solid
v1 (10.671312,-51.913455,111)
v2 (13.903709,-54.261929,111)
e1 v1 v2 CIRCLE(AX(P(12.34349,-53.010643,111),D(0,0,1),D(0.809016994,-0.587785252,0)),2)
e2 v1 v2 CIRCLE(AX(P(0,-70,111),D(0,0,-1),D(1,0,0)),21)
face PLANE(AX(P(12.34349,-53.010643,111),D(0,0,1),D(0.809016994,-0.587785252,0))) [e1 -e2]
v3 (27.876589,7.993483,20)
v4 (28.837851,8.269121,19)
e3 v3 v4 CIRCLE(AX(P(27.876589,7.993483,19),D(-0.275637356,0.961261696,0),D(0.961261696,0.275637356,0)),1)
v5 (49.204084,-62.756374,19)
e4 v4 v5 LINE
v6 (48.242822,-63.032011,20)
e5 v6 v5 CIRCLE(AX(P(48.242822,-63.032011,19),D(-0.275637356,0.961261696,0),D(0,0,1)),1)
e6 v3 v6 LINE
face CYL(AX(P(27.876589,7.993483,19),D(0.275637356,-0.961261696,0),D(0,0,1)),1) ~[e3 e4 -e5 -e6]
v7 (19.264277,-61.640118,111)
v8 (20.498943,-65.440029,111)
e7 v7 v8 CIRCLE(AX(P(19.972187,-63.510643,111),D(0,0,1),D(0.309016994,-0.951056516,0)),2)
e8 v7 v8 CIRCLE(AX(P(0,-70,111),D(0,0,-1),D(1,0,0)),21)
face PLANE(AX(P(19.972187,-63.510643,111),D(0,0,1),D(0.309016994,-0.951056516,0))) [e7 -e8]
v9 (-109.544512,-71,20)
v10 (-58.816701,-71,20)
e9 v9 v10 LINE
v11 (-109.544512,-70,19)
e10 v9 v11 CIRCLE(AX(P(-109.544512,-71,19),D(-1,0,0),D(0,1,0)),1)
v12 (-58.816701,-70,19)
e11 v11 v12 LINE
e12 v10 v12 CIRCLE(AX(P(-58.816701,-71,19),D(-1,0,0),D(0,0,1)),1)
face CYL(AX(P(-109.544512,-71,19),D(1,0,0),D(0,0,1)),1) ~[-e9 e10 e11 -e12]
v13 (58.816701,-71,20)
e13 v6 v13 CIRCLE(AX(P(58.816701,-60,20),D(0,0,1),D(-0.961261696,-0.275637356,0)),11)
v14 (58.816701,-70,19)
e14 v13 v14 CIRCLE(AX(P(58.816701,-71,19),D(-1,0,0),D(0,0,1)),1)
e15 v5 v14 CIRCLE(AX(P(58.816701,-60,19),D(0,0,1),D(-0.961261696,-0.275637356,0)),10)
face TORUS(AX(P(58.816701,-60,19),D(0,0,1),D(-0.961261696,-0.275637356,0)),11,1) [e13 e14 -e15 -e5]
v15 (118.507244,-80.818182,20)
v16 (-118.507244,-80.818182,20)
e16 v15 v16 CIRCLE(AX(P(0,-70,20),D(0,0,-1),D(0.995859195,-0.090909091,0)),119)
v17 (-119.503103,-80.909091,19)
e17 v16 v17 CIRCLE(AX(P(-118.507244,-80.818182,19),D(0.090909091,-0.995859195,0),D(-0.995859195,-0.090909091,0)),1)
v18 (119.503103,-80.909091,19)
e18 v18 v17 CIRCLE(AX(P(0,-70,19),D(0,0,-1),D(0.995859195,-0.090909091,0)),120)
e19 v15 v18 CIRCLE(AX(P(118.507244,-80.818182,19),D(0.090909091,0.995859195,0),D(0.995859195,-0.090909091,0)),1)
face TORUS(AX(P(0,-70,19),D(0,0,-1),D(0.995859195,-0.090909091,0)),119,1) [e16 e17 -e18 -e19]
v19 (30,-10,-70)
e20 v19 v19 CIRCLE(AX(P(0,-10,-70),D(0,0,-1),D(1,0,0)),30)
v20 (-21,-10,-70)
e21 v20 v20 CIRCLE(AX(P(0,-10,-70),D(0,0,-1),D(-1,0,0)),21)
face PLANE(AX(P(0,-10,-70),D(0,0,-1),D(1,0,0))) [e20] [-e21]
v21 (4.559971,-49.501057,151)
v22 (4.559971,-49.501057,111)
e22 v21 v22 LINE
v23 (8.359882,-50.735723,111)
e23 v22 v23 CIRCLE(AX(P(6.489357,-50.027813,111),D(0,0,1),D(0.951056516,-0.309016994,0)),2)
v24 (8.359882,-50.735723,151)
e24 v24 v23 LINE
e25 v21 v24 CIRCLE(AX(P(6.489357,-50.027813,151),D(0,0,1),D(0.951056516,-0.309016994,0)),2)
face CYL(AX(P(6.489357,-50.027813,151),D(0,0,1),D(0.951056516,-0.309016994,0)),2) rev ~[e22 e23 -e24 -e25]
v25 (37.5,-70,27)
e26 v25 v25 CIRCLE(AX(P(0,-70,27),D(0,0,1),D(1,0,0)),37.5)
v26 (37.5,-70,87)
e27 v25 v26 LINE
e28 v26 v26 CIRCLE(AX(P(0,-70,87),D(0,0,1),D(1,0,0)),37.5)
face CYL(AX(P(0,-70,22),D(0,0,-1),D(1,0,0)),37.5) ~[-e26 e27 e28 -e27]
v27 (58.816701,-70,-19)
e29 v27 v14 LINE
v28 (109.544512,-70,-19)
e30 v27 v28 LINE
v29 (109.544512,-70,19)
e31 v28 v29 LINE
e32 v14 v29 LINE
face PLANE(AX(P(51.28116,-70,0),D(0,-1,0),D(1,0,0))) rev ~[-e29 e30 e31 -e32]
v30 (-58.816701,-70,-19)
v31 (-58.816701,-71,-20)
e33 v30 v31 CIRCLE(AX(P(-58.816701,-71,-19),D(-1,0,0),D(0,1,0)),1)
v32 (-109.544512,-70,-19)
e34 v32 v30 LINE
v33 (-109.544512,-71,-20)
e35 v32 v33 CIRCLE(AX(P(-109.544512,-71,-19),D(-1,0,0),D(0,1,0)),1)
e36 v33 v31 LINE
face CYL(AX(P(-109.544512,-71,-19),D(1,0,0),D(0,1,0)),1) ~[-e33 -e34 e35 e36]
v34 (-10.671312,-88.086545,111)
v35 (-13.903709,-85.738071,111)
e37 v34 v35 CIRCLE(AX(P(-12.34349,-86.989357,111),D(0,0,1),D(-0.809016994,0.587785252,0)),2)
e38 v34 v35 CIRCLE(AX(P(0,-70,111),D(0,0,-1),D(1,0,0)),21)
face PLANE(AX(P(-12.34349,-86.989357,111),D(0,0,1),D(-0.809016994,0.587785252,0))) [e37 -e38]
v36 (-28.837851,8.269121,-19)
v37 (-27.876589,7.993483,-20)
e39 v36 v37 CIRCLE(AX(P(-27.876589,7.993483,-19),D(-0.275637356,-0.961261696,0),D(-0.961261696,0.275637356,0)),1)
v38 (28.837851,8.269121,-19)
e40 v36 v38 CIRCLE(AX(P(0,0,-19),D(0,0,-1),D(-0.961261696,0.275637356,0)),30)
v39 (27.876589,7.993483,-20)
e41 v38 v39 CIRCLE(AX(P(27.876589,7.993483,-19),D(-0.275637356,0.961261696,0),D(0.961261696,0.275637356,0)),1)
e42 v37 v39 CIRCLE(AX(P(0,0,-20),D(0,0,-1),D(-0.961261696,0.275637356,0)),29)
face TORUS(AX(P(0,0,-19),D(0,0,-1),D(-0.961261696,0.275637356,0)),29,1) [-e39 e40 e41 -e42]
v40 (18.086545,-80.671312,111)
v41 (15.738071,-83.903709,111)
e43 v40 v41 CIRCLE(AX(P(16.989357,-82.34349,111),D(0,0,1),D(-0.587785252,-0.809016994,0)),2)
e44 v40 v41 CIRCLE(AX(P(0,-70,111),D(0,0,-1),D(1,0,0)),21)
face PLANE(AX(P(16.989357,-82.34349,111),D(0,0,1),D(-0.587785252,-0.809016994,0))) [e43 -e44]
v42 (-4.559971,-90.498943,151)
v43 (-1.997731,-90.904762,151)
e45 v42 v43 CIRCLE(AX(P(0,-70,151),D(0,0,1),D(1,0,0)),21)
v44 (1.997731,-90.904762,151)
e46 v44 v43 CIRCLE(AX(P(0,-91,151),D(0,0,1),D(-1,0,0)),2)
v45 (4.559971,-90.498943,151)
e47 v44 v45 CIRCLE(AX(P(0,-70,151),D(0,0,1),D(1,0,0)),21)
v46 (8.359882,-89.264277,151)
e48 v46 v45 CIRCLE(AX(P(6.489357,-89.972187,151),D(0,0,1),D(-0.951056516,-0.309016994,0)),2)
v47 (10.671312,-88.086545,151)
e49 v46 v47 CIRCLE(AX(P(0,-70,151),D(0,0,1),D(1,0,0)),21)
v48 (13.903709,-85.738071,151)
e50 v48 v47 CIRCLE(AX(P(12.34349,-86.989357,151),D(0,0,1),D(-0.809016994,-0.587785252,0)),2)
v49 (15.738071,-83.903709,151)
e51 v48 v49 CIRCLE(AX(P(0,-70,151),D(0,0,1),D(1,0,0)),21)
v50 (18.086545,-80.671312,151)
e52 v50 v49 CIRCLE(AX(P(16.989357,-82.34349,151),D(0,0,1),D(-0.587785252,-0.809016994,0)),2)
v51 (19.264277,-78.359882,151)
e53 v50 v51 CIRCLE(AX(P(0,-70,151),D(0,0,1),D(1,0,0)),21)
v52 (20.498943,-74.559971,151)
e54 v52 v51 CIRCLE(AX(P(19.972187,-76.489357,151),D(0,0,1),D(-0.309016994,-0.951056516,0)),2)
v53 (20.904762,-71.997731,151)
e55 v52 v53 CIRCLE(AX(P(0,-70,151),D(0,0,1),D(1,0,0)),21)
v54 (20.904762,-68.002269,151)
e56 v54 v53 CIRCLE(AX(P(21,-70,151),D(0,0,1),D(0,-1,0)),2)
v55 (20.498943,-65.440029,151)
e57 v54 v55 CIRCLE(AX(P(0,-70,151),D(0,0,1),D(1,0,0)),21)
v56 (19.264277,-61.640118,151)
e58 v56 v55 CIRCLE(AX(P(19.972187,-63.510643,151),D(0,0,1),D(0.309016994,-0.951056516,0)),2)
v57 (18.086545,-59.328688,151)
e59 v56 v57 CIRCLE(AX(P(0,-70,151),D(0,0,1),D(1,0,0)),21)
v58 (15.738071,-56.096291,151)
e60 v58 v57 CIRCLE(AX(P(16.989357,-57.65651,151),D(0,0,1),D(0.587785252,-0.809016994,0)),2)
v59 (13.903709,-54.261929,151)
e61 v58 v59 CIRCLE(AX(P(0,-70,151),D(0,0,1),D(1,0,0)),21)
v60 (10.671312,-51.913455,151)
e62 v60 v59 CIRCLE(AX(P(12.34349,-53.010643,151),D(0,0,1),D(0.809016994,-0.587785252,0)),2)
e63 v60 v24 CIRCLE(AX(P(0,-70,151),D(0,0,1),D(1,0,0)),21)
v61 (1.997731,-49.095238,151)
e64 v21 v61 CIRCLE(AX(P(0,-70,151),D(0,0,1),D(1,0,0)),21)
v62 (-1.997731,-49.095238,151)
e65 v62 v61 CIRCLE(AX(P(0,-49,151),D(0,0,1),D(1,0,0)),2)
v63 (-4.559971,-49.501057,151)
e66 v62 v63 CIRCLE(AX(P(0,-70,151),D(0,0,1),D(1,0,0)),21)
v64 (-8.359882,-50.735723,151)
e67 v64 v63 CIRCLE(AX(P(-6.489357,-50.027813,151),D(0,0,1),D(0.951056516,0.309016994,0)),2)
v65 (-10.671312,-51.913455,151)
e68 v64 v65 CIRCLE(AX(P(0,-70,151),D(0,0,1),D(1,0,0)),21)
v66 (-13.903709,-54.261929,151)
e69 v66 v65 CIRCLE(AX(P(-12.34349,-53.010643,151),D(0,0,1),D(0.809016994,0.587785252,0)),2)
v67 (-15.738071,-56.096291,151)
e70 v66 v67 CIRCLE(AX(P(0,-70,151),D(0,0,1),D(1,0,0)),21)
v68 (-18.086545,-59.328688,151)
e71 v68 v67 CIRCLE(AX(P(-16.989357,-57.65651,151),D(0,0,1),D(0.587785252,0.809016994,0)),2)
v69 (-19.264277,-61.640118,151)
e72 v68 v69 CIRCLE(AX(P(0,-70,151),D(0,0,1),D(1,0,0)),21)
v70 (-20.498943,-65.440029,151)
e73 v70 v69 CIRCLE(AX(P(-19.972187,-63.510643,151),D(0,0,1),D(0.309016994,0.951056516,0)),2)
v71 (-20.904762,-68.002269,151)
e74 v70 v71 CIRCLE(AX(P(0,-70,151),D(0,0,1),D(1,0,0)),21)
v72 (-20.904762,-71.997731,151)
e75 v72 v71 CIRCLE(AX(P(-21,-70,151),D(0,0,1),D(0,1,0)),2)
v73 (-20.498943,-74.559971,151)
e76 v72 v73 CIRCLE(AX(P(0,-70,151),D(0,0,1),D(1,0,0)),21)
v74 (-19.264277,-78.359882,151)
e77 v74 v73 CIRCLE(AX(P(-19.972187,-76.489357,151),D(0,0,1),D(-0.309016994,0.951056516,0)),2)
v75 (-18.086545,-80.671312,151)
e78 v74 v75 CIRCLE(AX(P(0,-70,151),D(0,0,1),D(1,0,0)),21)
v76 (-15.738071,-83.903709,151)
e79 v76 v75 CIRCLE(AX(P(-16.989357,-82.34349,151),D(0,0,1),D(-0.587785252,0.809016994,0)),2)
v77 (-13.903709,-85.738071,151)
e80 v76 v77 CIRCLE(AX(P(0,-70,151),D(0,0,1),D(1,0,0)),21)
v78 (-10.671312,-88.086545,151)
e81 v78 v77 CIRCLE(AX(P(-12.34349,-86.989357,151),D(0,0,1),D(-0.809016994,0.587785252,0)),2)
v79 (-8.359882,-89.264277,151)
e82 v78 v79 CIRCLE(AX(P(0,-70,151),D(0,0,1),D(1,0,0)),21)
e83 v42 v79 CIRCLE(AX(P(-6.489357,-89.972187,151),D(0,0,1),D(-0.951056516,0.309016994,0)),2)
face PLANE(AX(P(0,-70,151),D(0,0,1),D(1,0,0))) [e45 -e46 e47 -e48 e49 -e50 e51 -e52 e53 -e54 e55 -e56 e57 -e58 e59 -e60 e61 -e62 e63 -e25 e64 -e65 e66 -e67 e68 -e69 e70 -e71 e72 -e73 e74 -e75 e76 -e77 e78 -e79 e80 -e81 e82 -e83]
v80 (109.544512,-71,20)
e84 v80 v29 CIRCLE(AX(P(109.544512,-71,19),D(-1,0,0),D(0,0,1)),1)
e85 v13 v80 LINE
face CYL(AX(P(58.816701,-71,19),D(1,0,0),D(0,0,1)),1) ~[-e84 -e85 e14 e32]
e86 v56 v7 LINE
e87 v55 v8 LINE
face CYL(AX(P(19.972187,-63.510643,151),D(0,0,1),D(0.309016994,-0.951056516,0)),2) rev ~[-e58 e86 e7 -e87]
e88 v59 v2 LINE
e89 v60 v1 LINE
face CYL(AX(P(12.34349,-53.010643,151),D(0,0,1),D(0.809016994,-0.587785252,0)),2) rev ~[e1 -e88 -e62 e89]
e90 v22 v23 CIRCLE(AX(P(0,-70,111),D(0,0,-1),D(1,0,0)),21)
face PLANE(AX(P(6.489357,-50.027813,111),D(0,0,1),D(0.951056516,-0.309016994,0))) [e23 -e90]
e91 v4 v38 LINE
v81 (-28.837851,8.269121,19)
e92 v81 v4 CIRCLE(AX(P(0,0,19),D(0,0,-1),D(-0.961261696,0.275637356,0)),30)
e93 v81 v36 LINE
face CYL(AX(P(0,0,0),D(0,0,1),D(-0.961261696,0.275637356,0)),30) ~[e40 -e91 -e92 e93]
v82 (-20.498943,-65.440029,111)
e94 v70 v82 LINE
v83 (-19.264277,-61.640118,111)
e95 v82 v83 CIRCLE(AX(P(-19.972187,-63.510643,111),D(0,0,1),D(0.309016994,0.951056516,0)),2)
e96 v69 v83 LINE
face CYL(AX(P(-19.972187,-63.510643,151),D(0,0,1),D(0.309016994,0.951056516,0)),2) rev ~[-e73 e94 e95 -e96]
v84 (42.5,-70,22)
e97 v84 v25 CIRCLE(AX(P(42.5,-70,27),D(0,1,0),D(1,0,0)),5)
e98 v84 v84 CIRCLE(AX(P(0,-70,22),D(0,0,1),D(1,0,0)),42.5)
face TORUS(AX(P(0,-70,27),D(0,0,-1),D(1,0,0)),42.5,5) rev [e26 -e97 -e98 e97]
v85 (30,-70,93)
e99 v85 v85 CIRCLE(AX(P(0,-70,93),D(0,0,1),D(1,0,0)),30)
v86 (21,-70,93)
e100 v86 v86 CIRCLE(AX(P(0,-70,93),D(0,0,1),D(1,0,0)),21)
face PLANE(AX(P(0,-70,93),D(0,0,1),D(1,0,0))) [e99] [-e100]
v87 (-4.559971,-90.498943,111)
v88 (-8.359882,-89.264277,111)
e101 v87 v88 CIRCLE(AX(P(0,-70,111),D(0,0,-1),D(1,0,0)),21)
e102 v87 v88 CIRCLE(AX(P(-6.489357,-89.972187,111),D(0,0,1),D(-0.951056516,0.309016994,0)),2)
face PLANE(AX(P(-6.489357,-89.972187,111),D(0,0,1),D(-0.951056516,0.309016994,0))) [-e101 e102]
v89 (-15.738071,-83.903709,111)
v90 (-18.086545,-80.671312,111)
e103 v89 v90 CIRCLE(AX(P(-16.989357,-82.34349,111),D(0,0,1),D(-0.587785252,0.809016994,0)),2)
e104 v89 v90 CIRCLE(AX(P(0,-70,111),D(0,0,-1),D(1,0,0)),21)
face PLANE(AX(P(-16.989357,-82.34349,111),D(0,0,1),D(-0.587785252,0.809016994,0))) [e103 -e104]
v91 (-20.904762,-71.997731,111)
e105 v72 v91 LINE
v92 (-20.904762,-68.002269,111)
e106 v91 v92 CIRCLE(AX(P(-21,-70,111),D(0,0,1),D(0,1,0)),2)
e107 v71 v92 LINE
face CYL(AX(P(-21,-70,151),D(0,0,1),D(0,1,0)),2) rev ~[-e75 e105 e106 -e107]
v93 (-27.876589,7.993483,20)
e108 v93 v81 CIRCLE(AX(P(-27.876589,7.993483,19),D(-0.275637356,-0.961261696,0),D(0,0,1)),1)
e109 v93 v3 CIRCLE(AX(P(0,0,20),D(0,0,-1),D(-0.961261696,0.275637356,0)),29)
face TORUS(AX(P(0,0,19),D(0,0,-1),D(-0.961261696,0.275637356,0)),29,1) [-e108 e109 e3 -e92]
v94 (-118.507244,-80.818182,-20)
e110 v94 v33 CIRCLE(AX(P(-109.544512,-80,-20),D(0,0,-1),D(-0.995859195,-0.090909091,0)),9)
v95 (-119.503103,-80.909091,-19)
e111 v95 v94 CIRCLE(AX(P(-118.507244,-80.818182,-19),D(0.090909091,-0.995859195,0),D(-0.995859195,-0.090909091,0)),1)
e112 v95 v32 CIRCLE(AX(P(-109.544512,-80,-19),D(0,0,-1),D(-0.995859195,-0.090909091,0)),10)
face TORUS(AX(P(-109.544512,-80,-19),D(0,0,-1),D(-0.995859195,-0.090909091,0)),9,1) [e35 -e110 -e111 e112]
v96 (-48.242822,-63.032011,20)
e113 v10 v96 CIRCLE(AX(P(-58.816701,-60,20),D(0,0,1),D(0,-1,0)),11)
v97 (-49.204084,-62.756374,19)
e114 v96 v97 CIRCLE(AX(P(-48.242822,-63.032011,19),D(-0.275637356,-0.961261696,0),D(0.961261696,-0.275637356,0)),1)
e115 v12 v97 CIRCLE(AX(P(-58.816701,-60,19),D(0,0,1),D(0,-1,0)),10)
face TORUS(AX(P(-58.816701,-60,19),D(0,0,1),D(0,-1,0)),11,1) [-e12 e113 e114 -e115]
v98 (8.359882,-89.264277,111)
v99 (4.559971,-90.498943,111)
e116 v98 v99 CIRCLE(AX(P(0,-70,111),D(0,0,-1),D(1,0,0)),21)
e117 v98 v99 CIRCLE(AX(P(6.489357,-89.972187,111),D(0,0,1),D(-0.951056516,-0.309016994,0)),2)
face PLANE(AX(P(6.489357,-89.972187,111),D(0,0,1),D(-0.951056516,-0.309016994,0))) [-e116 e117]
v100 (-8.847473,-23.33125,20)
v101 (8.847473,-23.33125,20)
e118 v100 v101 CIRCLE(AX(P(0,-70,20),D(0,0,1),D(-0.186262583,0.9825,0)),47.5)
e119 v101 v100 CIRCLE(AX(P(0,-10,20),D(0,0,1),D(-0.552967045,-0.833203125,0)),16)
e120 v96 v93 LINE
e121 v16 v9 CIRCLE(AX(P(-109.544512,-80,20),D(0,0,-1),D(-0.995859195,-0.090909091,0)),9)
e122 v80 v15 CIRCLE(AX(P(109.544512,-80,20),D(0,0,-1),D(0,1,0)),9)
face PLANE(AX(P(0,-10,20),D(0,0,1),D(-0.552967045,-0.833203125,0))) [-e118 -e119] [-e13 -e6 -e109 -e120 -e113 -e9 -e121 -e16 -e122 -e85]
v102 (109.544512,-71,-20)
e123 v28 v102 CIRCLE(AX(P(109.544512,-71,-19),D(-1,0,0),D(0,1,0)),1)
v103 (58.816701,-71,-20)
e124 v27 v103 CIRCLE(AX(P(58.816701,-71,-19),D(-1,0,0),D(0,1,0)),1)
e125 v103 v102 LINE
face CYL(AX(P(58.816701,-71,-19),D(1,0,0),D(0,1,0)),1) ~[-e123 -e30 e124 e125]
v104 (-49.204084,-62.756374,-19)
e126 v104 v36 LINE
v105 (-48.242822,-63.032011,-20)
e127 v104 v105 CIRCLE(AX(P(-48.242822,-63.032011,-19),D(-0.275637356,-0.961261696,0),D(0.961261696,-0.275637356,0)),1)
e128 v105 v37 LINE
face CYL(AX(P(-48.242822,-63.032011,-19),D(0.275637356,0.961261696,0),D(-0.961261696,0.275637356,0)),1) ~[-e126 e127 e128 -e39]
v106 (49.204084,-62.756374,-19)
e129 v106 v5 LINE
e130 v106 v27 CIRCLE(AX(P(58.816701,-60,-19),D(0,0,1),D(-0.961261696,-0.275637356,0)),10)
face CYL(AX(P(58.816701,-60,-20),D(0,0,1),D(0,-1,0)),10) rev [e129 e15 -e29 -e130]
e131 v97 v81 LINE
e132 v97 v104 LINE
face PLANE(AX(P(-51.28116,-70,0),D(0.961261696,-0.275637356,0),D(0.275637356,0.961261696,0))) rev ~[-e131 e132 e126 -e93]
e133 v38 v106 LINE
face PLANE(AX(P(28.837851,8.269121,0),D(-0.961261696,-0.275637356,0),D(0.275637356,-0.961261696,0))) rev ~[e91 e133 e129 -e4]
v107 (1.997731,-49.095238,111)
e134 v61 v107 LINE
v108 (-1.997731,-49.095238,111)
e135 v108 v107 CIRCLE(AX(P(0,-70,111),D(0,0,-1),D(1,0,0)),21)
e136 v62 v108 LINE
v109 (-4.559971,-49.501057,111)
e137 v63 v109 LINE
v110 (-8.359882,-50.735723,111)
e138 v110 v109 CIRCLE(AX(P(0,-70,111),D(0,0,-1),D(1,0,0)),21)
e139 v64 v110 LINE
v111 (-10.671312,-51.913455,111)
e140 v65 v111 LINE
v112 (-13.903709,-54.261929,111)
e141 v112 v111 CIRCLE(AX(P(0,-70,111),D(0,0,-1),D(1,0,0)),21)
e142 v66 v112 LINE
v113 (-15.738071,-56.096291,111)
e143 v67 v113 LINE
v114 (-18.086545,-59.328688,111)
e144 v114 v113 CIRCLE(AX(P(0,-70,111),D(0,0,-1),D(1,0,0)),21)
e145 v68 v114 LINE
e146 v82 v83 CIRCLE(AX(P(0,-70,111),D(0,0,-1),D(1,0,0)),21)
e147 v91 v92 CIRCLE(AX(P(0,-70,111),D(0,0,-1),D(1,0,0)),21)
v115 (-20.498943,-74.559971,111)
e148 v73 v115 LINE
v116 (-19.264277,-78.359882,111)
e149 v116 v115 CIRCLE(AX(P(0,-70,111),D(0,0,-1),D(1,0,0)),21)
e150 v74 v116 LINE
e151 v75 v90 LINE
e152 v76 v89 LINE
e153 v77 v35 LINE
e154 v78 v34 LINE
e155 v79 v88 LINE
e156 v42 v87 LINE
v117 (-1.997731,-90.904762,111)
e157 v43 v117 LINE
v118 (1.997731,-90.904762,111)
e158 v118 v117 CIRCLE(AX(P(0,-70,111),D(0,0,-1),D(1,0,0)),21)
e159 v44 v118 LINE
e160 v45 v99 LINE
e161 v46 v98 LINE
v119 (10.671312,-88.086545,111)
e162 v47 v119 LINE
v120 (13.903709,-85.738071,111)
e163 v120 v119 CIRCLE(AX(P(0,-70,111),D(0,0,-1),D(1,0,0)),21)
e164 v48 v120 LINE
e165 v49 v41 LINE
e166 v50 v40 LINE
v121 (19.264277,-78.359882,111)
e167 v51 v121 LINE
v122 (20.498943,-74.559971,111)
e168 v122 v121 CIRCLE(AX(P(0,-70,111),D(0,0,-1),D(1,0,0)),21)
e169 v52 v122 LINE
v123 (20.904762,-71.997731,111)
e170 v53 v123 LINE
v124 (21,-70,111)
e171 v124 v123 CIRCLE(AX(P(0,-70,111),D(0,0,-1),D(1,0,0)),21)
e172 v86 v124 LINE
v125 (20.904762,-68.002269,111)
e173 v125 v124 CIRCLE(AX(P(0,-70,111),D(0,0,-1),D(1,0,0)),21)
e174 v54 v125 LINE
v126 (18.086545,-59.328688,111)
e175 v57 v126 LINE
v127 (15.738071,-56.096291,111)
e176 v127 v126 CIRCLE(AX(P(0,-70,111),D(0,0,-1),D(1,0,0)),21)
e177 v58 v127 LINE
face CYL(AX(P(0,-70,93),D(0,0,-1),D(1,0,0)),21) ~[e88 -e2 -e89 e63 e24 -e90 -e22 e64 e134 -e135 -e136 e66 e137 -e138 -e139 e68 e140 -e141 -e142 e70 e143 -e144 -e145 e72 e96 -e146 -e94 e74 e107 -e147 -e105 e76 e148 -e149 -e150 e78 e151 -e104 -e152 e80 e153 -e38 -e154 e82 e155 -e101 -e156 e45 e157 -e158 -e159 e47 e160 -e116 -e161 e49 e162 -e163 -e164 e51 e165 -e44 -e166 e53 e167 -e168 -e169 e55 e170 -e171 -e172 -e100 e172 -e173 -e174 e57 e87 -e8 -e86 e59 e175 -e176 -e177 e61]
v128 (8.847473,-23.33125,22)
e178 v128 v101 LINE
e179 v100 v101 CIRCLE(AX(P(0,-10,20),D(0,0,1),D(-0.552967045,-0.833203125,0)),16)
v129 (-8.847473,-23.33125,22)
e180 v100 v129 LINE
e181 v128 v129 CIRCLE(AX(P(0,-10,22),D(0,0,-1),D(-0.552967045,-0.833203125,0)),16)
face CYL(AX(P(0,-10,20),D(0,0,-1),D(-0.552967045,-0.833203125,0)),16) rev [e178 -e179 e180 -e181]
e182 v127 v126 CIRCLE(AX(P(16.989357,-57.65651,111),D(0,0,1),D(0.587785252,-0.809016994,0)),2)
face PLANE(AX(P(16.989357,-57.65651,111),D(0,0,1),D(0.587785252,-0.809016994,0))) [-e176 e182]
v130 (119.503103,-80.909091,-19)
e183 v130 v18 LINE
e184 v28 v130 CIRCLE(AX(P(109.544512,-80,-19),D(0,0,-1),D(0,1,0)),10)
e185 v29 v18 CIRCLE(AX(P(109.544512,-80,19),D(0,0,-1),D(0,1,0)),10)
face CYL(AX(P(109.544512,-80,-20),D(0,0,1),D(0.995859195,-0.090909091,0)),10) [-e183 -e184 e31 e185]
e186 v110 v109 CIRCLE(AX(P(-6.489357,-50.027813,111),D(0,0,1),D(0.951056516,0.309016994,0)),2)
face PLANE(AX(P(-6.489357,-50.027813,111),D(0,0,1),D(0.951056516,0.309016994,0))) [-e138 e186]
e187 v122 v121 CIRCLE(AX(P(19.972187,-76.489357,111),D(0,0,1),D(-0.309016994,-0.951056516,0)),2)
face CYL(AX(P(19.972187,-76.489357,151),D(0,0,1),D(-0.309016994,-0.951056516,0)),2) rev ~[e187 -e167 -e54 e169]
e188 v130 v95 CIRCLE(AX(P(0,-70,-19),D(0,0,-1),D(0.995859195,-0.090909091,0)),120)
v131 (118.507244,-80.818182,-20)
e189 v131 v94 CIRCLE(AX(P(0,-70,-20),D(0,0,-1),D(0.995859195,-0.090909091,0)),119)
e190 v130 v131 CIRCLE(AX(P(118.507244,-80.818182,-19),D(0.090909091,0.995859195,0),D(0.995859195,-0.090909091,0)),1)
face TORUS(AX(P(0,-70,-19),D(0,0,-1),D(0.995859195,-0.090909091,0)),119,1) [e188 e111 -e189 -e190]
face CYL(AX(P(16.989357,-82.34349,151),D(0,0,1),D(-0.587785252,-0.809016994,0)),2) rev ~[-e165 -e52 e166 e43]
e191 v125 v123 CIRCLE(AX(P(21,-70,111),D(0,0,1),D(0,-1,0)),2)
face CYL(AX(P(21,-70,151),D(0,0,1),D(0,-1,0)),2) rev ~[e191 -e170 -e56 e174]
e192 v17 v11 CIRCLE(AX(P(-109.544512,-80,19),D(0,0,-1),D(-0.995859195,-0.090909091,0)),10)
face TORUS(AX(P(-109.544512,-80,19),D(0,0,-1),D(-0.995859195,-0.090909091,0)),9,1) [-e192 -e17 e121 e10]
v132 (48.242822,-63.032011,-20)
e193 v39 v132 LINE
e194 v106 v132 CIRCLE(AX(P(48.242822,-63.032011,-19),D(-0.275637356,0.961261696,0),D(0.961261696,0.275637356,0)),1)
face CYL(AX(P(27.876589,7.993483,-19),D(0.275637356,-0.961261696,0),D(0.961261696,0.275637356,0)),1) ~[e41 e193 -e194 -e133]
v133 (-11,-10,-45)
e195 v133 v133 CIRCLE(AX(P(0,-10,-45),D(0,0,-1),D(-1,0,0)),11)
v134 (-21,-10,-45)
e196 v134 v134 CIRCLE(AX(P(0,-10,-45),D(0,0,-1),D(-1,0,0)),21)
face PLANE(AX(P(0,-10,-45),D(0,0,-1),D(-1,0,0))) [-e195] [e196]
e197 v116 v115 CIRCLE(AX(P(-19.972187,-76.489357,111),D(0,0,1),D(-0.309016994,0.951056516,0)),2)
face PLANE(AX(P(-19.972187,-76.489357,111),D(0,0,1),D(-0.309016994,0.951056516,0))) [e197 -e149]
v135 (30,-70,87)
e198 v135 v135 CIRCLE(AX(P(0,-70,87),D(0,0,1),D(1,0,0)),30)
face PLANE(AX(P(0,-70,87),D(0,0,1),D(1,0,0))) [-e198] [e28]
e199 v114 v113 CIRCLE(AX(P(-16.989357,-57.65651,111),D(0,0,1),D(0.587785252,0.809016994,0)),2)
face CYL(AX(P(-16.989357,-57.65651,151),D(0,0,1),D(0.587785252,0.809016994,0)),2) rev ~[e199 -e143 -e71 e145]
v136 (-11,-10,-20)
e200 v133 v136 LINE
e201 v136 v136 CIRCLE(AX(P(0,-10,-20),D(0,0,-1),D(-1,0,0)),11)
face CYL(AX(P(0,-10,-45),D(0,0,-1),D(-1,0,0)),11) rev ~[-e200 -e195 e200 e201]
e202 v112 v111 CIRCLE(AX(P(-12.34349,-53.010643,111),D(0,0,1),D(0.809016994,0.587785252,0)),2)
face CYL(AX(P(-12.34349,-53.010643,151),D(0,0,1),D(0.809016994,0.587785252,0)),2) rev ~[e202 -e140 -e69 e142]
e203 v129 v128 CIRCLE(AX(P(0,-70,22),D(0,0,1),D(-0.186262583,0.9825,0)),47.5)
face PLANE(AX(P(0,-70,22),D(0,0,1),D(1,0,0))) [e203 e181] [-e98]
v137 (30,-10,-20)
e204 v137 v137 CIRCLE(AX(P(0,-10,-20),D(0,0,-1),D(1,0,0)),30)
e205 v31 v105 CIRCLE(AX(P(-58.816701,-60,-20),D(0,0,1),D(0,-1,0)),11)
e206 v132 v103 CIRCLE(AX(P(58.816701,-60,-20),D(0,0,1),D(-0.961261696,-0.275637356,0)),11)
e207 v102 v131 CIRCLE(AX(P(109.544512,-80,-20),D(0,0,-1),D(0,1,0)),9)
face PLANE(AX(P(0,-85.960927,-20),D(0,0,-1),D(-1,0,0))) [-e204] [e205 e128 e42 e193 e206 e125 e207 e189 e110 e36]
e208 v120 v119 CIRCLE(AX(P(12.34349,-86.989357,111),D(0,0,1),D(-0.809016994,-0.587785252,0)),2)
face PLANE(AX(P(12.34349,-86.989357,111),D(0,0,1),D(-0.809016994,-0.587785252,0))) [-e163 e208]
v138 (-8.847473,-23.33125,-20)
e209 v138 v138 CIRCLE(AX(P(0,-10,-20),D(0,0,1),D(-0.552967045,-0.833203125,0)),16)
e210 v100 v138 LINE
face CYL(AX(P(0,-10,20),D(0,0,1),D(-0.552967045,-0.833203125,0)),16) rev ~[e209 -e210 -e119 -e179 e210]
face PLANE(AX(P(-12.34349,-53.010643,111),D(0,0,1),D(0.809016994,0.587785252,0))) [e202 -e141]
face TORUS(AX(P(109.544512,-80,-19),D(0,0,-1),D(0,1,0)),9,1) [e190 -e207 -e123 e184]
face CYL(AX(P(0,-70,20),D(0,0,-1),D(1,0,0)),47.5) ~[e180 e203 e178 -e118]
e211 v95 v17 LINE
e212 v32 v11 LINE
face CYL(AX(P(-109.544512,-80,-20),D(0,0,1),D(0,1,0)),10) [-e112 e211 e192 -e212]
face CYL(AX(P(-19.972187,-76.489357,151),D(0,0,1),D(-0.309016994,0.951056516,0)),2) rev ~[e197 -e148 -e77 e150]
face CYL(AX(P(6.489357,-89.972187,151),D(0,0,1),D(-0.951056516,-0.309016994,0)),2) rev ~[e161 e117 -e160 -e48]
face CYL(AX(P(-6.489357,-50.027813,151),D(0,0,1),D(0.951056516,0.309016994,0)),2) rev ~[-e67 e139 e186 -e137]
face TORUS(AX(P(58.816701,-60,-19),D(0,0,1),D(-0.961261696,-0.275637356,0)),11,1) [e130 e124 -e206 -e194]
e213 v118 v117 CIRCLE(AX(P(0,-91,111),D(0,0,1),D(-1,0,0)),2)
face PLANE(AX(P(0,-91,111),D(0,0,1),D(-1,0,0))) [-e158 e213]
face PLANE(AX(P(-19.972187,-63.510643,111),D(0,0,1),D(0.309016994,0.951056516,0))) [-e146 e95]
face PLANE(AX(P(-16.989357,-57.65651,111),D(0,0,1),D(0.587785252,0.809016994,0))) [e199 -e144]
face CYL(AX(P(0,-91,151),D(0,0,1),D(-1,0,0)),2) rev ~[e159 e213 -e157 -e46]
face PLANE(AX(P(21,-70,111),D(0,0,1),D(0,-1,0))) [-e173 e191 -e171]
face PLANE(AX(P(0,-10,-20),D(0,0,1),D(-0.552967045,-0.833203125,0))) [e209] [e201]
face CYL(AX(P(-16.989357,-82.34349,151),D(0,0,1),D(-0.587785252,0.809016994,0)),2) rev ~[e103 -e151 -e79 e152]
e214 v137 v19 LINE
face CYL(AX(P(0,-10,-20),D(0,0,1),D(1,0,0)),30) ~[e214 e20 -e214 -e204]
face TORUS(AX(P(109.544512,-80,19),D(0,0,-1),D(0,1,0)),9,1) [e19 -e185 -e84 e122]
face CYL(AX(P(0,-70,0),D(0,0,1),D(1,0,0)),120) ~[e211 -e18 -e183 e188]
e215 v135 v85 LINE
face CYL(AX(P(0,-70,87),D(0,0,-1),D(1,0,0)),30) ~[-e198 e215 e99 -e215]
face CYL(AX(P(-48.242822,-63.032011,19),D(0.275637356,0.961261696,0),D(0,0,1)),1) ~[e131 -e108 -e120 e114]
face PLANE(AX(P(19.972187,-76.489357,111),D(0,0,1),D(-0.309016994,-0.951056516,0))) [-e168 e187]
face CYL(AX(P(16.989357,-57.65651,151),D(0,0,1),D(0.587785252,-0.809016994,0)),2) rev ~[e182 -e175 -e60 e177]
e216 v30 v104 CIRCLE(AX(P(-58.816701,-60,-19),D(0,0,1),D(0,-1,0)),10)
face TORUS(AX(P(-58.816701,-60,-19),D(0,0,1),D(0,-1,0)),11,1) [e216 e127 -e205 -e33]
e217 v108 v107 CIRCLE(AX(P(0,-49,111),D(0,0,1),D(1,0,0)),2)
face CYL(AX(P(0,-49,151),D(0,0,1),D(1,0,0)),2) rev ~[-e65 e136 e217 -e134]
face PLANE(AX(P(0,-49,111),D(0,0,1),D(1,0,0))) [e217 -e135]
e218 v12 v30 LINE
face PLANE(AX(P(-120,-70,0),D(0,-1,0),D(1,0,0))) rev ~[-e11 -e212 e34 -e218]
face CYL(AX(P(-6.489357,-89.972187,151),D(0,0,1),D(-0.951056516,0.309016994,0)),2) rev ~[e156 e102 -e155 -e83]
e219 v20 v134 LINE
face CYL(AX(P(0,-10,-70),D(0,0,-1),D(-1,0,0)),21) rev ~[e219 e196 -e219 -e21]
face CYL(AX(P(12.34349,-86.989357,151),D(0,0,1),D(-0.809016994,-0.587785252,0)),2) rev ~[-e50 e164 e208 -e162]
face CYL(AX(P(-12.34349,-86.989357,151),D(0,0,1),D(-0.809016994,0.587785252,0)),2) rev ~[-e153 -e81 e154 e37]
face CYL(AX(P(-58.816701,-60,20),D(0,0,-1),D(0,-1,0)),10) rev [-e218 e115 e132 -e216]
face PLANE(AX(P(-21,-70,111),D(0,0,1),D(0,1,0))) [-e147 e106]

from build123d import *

# Parameters (mm, degrees)
BOSS_EXTRUDE1_DEPTH     = 20
SKETCH2_R               = 47.5
BOSS_EXTRUDE2_DEPTH     = 2
FILLET1_R               = 10
SKETCH3_R               = 37.5
BOSS_EXTRUDE3_DEPTH     = 65
SKETCH4_R               = 30
BOSS_EXTRUDE4_DEPTH     = 6
SKETCH5_R               = 21
BOSS_EXTRUDE5_DEPTH     = 58
FILLET2_R               = 5
SKETCH6_R               = 30
BOSS_EXTRUDE6_DEPTH     = 50
SKETCH7_R               = 21
CUT_EXTRUDE1_DEPTH      = 25
SKETCH8_R               = 11
CUT_EXTRUDE2_DEPTH      = 197
SKETCH9_R               = 16
CUT_EXTRUDE3_DEPTH      = 132
CUT_EXTRUDE3_DEPTH_BACK = 40
FILLET3_R               = 1
SKETCH10_R              = 2
CUT_EXTRUDE4_DEPTH      = 40
CIRPATTERN1_COUNT       = 20


with BuildPart() as part:
    # Sketch1 → Boss-Extrude1 (new body, symmetric)
    with BuildSketch(Plane.XY):
        with BuildLine():
            Line((-120, -70), (-51.281160079, -70))
            Line((-51.281160079, -70), (-28.837850878, 8.269120675))
            ThreePointArc((-28.837850878, 8.269120675), (0, 30), (28.837850878, 8.269120675))
            Line((28.837850878, 8.269120675), (51.281160079, -70))
            Line((51.281160079, -70), (120, -70))
            ThreePointArc((120, -70), (0, -190), (-120, -70))
        make_face()
    extrude(amount=BOSS_EXTRUDE1_DEPTH, both=True)

    # Sketch2 → Boss-Extrude2 (add)
    with BuildSketch(Plane.XY.offset(20)):
        with Locations((0, -70)):
            Circle(SKETCH2_R)
    extrude(amount=BOSS_EXTRUDE2_DEPTH)

    # Fillet1
    fillet1_edges = [part.edges().sort_by_distance(p)[0] for p in [
        (51.281160079, -70, 0),
        (120, -70, 0),
        (-120, -70, 0),
        (-51.281160079, -70, 0),
    ]]
    fillet(fillet1_edges, radius=FILLET1_R)

    # Sketch3 → Boss-Extrude3 (add)
    with BuildSketch(Plane.XY.offset(22)):
        with Locations((0, -70)):
            Circle(SKETCH3_R)
    extrude(amount=BOSS_EXTRUDE3_DEPTH)

    # Sketch4 → Boss-Extrude4 (add)
    with BuildSketch(Plane.XY.offset(87)):
        with Locations((0, -70)):
            Circle(SKETCH4_R)
    extrude(amount=BOSS_EXTRUDE4_DEPTH)

    # Sketch5 → Boss-Extrude5 (add)
    with BuildSketch(Plane.XY.offset(93)):
        with Locations((0, -70)):
            Circle(SKETCH5_R)
    extrude(amount=BOSS_EXTRUDE5_DEPTH)

    # Fillet2
    fillet2_edges = [part.edges().sort_by_distance(p)[0] for p in [
        (-37.5, -70, 22),
    ]]
    fillet(fillet2_edges, radius=FILLET2_R)

    # Sketch6 → Boss-Extrude6 (add)
    with BuildSketch(Plane(origin=(0, 0, -20), x_dir=(-1, 0, 0), z_dir=(0, 0, -1))):
        with Locations(Location((0, -10, 0), (0, 0, 180))):  # turned: the seam where the file's is
            Circle(SKETCH6_R)
    extrude(amount=BOSS_EXTRUDE6_DEPTH)

    # Sketch7 → Cut-Extrude1 (cut)
    with BuildSketch(Plane(origin=(0, 0, -70), x_dir=(-1, 0, 0), z_dir=(0, 0, -1))):
        with Locations((0, -10)):
            Circle(SKETCH7_R)
    extrude(amount=-CUT_EXTRUDE1_DEPTH, mode=Mode.SUBTRACT)

    # Sketch8 → Cut-Extrude2 (cut, through all)
    with BuildSketch(Plane(origin=(0, 0, -45), x_dir=(-1, 0, 0), z_dir=(0, 0, -1))):
        with Locations((0, -10)):
            Circle(SKETCH8_R)
    extrude(amount=-CUT_EXTRUDE2_DEPTH, mode=Mode.SUBTRACT)

    # Sketch9 → Cut-Extrude3 (cut, two sides)
    with BuildSketch(Plane.XY.offset(20)) as cut_extrude3_sk:
        with Locations(Location((0, -10, 0), (0, 0, 236.429196284))):  # turned: the seam where the file's is
            Circle(SKETCH9_R)
    extrude(amount=CUT_EXTRUDE3_DEPTH, mode=Mode.SUBTRACT)
    extrude(cut_extrude3_sk.sketch, amount=-CUT_EXTRUDE3_DEPTH_BACK, mode=Mode.SUBTRACT)

    # Fillet3
    fillet3_edges = [part.edges().sort_by_distance(p)[0] for p in [
        (84.180606041, -70, -20),
        (84.180606041, -70, 20),
        (39.020967249, -27.243626442, -20),
        (0, -190, -20),
        (-84.180606041, -70, -20),
        (-116.93000096, -73.258001375, -20),
        (116.93000096, -73.258001375, -20),
        (0, -190, 20),
        (-84.180606041, -70, 20),
        (39.020967249, -27.243626442, 20),
        (-116.93000096, -73.258001375, 20),
        (116.93000096, -73.258001375, 20),
        (52.798550348, -67.9863551, -20),
        (52.798550348, -67.9863551, 20),
        (-52.798550348, -67.9863551, -20),
        (-52.798550348, -67.9863551, 20),
        (0, 30, 20),
        (-39.020967249, -27.243626442, 20),
        (-39.020967249, -27.243626442, -20),
        (0, 30, -20),
    ]]
    fillet(fillet3_edges, radius=FILLET3_R)

    # Sketch10 → Cut-Extrude4 (cut)
    with BuildSketch(Plane.XY.offset(151)):
        with Locations((0, -49)):
            Circle(SKETCH10_R)
    cut_extrude4 = extrude(amount=-CUT_EXTRUDE4_DEPTH, mode=Mode.SUBTRACT)

    # CirPattern1: Cut-Extrude4 ×20 about axis
    cirpattern1_axis = Axis((0, -70, 0), (0, 0, 1))
    for i in range(1, CIRPATTERN1_COUNT):
        add(cut_extrude4.rotate(cirpattern1_axis, i * 360 / CIRPATTERN1_COUNT), mode=Mode.SUBTRACT)


solid = part.part
